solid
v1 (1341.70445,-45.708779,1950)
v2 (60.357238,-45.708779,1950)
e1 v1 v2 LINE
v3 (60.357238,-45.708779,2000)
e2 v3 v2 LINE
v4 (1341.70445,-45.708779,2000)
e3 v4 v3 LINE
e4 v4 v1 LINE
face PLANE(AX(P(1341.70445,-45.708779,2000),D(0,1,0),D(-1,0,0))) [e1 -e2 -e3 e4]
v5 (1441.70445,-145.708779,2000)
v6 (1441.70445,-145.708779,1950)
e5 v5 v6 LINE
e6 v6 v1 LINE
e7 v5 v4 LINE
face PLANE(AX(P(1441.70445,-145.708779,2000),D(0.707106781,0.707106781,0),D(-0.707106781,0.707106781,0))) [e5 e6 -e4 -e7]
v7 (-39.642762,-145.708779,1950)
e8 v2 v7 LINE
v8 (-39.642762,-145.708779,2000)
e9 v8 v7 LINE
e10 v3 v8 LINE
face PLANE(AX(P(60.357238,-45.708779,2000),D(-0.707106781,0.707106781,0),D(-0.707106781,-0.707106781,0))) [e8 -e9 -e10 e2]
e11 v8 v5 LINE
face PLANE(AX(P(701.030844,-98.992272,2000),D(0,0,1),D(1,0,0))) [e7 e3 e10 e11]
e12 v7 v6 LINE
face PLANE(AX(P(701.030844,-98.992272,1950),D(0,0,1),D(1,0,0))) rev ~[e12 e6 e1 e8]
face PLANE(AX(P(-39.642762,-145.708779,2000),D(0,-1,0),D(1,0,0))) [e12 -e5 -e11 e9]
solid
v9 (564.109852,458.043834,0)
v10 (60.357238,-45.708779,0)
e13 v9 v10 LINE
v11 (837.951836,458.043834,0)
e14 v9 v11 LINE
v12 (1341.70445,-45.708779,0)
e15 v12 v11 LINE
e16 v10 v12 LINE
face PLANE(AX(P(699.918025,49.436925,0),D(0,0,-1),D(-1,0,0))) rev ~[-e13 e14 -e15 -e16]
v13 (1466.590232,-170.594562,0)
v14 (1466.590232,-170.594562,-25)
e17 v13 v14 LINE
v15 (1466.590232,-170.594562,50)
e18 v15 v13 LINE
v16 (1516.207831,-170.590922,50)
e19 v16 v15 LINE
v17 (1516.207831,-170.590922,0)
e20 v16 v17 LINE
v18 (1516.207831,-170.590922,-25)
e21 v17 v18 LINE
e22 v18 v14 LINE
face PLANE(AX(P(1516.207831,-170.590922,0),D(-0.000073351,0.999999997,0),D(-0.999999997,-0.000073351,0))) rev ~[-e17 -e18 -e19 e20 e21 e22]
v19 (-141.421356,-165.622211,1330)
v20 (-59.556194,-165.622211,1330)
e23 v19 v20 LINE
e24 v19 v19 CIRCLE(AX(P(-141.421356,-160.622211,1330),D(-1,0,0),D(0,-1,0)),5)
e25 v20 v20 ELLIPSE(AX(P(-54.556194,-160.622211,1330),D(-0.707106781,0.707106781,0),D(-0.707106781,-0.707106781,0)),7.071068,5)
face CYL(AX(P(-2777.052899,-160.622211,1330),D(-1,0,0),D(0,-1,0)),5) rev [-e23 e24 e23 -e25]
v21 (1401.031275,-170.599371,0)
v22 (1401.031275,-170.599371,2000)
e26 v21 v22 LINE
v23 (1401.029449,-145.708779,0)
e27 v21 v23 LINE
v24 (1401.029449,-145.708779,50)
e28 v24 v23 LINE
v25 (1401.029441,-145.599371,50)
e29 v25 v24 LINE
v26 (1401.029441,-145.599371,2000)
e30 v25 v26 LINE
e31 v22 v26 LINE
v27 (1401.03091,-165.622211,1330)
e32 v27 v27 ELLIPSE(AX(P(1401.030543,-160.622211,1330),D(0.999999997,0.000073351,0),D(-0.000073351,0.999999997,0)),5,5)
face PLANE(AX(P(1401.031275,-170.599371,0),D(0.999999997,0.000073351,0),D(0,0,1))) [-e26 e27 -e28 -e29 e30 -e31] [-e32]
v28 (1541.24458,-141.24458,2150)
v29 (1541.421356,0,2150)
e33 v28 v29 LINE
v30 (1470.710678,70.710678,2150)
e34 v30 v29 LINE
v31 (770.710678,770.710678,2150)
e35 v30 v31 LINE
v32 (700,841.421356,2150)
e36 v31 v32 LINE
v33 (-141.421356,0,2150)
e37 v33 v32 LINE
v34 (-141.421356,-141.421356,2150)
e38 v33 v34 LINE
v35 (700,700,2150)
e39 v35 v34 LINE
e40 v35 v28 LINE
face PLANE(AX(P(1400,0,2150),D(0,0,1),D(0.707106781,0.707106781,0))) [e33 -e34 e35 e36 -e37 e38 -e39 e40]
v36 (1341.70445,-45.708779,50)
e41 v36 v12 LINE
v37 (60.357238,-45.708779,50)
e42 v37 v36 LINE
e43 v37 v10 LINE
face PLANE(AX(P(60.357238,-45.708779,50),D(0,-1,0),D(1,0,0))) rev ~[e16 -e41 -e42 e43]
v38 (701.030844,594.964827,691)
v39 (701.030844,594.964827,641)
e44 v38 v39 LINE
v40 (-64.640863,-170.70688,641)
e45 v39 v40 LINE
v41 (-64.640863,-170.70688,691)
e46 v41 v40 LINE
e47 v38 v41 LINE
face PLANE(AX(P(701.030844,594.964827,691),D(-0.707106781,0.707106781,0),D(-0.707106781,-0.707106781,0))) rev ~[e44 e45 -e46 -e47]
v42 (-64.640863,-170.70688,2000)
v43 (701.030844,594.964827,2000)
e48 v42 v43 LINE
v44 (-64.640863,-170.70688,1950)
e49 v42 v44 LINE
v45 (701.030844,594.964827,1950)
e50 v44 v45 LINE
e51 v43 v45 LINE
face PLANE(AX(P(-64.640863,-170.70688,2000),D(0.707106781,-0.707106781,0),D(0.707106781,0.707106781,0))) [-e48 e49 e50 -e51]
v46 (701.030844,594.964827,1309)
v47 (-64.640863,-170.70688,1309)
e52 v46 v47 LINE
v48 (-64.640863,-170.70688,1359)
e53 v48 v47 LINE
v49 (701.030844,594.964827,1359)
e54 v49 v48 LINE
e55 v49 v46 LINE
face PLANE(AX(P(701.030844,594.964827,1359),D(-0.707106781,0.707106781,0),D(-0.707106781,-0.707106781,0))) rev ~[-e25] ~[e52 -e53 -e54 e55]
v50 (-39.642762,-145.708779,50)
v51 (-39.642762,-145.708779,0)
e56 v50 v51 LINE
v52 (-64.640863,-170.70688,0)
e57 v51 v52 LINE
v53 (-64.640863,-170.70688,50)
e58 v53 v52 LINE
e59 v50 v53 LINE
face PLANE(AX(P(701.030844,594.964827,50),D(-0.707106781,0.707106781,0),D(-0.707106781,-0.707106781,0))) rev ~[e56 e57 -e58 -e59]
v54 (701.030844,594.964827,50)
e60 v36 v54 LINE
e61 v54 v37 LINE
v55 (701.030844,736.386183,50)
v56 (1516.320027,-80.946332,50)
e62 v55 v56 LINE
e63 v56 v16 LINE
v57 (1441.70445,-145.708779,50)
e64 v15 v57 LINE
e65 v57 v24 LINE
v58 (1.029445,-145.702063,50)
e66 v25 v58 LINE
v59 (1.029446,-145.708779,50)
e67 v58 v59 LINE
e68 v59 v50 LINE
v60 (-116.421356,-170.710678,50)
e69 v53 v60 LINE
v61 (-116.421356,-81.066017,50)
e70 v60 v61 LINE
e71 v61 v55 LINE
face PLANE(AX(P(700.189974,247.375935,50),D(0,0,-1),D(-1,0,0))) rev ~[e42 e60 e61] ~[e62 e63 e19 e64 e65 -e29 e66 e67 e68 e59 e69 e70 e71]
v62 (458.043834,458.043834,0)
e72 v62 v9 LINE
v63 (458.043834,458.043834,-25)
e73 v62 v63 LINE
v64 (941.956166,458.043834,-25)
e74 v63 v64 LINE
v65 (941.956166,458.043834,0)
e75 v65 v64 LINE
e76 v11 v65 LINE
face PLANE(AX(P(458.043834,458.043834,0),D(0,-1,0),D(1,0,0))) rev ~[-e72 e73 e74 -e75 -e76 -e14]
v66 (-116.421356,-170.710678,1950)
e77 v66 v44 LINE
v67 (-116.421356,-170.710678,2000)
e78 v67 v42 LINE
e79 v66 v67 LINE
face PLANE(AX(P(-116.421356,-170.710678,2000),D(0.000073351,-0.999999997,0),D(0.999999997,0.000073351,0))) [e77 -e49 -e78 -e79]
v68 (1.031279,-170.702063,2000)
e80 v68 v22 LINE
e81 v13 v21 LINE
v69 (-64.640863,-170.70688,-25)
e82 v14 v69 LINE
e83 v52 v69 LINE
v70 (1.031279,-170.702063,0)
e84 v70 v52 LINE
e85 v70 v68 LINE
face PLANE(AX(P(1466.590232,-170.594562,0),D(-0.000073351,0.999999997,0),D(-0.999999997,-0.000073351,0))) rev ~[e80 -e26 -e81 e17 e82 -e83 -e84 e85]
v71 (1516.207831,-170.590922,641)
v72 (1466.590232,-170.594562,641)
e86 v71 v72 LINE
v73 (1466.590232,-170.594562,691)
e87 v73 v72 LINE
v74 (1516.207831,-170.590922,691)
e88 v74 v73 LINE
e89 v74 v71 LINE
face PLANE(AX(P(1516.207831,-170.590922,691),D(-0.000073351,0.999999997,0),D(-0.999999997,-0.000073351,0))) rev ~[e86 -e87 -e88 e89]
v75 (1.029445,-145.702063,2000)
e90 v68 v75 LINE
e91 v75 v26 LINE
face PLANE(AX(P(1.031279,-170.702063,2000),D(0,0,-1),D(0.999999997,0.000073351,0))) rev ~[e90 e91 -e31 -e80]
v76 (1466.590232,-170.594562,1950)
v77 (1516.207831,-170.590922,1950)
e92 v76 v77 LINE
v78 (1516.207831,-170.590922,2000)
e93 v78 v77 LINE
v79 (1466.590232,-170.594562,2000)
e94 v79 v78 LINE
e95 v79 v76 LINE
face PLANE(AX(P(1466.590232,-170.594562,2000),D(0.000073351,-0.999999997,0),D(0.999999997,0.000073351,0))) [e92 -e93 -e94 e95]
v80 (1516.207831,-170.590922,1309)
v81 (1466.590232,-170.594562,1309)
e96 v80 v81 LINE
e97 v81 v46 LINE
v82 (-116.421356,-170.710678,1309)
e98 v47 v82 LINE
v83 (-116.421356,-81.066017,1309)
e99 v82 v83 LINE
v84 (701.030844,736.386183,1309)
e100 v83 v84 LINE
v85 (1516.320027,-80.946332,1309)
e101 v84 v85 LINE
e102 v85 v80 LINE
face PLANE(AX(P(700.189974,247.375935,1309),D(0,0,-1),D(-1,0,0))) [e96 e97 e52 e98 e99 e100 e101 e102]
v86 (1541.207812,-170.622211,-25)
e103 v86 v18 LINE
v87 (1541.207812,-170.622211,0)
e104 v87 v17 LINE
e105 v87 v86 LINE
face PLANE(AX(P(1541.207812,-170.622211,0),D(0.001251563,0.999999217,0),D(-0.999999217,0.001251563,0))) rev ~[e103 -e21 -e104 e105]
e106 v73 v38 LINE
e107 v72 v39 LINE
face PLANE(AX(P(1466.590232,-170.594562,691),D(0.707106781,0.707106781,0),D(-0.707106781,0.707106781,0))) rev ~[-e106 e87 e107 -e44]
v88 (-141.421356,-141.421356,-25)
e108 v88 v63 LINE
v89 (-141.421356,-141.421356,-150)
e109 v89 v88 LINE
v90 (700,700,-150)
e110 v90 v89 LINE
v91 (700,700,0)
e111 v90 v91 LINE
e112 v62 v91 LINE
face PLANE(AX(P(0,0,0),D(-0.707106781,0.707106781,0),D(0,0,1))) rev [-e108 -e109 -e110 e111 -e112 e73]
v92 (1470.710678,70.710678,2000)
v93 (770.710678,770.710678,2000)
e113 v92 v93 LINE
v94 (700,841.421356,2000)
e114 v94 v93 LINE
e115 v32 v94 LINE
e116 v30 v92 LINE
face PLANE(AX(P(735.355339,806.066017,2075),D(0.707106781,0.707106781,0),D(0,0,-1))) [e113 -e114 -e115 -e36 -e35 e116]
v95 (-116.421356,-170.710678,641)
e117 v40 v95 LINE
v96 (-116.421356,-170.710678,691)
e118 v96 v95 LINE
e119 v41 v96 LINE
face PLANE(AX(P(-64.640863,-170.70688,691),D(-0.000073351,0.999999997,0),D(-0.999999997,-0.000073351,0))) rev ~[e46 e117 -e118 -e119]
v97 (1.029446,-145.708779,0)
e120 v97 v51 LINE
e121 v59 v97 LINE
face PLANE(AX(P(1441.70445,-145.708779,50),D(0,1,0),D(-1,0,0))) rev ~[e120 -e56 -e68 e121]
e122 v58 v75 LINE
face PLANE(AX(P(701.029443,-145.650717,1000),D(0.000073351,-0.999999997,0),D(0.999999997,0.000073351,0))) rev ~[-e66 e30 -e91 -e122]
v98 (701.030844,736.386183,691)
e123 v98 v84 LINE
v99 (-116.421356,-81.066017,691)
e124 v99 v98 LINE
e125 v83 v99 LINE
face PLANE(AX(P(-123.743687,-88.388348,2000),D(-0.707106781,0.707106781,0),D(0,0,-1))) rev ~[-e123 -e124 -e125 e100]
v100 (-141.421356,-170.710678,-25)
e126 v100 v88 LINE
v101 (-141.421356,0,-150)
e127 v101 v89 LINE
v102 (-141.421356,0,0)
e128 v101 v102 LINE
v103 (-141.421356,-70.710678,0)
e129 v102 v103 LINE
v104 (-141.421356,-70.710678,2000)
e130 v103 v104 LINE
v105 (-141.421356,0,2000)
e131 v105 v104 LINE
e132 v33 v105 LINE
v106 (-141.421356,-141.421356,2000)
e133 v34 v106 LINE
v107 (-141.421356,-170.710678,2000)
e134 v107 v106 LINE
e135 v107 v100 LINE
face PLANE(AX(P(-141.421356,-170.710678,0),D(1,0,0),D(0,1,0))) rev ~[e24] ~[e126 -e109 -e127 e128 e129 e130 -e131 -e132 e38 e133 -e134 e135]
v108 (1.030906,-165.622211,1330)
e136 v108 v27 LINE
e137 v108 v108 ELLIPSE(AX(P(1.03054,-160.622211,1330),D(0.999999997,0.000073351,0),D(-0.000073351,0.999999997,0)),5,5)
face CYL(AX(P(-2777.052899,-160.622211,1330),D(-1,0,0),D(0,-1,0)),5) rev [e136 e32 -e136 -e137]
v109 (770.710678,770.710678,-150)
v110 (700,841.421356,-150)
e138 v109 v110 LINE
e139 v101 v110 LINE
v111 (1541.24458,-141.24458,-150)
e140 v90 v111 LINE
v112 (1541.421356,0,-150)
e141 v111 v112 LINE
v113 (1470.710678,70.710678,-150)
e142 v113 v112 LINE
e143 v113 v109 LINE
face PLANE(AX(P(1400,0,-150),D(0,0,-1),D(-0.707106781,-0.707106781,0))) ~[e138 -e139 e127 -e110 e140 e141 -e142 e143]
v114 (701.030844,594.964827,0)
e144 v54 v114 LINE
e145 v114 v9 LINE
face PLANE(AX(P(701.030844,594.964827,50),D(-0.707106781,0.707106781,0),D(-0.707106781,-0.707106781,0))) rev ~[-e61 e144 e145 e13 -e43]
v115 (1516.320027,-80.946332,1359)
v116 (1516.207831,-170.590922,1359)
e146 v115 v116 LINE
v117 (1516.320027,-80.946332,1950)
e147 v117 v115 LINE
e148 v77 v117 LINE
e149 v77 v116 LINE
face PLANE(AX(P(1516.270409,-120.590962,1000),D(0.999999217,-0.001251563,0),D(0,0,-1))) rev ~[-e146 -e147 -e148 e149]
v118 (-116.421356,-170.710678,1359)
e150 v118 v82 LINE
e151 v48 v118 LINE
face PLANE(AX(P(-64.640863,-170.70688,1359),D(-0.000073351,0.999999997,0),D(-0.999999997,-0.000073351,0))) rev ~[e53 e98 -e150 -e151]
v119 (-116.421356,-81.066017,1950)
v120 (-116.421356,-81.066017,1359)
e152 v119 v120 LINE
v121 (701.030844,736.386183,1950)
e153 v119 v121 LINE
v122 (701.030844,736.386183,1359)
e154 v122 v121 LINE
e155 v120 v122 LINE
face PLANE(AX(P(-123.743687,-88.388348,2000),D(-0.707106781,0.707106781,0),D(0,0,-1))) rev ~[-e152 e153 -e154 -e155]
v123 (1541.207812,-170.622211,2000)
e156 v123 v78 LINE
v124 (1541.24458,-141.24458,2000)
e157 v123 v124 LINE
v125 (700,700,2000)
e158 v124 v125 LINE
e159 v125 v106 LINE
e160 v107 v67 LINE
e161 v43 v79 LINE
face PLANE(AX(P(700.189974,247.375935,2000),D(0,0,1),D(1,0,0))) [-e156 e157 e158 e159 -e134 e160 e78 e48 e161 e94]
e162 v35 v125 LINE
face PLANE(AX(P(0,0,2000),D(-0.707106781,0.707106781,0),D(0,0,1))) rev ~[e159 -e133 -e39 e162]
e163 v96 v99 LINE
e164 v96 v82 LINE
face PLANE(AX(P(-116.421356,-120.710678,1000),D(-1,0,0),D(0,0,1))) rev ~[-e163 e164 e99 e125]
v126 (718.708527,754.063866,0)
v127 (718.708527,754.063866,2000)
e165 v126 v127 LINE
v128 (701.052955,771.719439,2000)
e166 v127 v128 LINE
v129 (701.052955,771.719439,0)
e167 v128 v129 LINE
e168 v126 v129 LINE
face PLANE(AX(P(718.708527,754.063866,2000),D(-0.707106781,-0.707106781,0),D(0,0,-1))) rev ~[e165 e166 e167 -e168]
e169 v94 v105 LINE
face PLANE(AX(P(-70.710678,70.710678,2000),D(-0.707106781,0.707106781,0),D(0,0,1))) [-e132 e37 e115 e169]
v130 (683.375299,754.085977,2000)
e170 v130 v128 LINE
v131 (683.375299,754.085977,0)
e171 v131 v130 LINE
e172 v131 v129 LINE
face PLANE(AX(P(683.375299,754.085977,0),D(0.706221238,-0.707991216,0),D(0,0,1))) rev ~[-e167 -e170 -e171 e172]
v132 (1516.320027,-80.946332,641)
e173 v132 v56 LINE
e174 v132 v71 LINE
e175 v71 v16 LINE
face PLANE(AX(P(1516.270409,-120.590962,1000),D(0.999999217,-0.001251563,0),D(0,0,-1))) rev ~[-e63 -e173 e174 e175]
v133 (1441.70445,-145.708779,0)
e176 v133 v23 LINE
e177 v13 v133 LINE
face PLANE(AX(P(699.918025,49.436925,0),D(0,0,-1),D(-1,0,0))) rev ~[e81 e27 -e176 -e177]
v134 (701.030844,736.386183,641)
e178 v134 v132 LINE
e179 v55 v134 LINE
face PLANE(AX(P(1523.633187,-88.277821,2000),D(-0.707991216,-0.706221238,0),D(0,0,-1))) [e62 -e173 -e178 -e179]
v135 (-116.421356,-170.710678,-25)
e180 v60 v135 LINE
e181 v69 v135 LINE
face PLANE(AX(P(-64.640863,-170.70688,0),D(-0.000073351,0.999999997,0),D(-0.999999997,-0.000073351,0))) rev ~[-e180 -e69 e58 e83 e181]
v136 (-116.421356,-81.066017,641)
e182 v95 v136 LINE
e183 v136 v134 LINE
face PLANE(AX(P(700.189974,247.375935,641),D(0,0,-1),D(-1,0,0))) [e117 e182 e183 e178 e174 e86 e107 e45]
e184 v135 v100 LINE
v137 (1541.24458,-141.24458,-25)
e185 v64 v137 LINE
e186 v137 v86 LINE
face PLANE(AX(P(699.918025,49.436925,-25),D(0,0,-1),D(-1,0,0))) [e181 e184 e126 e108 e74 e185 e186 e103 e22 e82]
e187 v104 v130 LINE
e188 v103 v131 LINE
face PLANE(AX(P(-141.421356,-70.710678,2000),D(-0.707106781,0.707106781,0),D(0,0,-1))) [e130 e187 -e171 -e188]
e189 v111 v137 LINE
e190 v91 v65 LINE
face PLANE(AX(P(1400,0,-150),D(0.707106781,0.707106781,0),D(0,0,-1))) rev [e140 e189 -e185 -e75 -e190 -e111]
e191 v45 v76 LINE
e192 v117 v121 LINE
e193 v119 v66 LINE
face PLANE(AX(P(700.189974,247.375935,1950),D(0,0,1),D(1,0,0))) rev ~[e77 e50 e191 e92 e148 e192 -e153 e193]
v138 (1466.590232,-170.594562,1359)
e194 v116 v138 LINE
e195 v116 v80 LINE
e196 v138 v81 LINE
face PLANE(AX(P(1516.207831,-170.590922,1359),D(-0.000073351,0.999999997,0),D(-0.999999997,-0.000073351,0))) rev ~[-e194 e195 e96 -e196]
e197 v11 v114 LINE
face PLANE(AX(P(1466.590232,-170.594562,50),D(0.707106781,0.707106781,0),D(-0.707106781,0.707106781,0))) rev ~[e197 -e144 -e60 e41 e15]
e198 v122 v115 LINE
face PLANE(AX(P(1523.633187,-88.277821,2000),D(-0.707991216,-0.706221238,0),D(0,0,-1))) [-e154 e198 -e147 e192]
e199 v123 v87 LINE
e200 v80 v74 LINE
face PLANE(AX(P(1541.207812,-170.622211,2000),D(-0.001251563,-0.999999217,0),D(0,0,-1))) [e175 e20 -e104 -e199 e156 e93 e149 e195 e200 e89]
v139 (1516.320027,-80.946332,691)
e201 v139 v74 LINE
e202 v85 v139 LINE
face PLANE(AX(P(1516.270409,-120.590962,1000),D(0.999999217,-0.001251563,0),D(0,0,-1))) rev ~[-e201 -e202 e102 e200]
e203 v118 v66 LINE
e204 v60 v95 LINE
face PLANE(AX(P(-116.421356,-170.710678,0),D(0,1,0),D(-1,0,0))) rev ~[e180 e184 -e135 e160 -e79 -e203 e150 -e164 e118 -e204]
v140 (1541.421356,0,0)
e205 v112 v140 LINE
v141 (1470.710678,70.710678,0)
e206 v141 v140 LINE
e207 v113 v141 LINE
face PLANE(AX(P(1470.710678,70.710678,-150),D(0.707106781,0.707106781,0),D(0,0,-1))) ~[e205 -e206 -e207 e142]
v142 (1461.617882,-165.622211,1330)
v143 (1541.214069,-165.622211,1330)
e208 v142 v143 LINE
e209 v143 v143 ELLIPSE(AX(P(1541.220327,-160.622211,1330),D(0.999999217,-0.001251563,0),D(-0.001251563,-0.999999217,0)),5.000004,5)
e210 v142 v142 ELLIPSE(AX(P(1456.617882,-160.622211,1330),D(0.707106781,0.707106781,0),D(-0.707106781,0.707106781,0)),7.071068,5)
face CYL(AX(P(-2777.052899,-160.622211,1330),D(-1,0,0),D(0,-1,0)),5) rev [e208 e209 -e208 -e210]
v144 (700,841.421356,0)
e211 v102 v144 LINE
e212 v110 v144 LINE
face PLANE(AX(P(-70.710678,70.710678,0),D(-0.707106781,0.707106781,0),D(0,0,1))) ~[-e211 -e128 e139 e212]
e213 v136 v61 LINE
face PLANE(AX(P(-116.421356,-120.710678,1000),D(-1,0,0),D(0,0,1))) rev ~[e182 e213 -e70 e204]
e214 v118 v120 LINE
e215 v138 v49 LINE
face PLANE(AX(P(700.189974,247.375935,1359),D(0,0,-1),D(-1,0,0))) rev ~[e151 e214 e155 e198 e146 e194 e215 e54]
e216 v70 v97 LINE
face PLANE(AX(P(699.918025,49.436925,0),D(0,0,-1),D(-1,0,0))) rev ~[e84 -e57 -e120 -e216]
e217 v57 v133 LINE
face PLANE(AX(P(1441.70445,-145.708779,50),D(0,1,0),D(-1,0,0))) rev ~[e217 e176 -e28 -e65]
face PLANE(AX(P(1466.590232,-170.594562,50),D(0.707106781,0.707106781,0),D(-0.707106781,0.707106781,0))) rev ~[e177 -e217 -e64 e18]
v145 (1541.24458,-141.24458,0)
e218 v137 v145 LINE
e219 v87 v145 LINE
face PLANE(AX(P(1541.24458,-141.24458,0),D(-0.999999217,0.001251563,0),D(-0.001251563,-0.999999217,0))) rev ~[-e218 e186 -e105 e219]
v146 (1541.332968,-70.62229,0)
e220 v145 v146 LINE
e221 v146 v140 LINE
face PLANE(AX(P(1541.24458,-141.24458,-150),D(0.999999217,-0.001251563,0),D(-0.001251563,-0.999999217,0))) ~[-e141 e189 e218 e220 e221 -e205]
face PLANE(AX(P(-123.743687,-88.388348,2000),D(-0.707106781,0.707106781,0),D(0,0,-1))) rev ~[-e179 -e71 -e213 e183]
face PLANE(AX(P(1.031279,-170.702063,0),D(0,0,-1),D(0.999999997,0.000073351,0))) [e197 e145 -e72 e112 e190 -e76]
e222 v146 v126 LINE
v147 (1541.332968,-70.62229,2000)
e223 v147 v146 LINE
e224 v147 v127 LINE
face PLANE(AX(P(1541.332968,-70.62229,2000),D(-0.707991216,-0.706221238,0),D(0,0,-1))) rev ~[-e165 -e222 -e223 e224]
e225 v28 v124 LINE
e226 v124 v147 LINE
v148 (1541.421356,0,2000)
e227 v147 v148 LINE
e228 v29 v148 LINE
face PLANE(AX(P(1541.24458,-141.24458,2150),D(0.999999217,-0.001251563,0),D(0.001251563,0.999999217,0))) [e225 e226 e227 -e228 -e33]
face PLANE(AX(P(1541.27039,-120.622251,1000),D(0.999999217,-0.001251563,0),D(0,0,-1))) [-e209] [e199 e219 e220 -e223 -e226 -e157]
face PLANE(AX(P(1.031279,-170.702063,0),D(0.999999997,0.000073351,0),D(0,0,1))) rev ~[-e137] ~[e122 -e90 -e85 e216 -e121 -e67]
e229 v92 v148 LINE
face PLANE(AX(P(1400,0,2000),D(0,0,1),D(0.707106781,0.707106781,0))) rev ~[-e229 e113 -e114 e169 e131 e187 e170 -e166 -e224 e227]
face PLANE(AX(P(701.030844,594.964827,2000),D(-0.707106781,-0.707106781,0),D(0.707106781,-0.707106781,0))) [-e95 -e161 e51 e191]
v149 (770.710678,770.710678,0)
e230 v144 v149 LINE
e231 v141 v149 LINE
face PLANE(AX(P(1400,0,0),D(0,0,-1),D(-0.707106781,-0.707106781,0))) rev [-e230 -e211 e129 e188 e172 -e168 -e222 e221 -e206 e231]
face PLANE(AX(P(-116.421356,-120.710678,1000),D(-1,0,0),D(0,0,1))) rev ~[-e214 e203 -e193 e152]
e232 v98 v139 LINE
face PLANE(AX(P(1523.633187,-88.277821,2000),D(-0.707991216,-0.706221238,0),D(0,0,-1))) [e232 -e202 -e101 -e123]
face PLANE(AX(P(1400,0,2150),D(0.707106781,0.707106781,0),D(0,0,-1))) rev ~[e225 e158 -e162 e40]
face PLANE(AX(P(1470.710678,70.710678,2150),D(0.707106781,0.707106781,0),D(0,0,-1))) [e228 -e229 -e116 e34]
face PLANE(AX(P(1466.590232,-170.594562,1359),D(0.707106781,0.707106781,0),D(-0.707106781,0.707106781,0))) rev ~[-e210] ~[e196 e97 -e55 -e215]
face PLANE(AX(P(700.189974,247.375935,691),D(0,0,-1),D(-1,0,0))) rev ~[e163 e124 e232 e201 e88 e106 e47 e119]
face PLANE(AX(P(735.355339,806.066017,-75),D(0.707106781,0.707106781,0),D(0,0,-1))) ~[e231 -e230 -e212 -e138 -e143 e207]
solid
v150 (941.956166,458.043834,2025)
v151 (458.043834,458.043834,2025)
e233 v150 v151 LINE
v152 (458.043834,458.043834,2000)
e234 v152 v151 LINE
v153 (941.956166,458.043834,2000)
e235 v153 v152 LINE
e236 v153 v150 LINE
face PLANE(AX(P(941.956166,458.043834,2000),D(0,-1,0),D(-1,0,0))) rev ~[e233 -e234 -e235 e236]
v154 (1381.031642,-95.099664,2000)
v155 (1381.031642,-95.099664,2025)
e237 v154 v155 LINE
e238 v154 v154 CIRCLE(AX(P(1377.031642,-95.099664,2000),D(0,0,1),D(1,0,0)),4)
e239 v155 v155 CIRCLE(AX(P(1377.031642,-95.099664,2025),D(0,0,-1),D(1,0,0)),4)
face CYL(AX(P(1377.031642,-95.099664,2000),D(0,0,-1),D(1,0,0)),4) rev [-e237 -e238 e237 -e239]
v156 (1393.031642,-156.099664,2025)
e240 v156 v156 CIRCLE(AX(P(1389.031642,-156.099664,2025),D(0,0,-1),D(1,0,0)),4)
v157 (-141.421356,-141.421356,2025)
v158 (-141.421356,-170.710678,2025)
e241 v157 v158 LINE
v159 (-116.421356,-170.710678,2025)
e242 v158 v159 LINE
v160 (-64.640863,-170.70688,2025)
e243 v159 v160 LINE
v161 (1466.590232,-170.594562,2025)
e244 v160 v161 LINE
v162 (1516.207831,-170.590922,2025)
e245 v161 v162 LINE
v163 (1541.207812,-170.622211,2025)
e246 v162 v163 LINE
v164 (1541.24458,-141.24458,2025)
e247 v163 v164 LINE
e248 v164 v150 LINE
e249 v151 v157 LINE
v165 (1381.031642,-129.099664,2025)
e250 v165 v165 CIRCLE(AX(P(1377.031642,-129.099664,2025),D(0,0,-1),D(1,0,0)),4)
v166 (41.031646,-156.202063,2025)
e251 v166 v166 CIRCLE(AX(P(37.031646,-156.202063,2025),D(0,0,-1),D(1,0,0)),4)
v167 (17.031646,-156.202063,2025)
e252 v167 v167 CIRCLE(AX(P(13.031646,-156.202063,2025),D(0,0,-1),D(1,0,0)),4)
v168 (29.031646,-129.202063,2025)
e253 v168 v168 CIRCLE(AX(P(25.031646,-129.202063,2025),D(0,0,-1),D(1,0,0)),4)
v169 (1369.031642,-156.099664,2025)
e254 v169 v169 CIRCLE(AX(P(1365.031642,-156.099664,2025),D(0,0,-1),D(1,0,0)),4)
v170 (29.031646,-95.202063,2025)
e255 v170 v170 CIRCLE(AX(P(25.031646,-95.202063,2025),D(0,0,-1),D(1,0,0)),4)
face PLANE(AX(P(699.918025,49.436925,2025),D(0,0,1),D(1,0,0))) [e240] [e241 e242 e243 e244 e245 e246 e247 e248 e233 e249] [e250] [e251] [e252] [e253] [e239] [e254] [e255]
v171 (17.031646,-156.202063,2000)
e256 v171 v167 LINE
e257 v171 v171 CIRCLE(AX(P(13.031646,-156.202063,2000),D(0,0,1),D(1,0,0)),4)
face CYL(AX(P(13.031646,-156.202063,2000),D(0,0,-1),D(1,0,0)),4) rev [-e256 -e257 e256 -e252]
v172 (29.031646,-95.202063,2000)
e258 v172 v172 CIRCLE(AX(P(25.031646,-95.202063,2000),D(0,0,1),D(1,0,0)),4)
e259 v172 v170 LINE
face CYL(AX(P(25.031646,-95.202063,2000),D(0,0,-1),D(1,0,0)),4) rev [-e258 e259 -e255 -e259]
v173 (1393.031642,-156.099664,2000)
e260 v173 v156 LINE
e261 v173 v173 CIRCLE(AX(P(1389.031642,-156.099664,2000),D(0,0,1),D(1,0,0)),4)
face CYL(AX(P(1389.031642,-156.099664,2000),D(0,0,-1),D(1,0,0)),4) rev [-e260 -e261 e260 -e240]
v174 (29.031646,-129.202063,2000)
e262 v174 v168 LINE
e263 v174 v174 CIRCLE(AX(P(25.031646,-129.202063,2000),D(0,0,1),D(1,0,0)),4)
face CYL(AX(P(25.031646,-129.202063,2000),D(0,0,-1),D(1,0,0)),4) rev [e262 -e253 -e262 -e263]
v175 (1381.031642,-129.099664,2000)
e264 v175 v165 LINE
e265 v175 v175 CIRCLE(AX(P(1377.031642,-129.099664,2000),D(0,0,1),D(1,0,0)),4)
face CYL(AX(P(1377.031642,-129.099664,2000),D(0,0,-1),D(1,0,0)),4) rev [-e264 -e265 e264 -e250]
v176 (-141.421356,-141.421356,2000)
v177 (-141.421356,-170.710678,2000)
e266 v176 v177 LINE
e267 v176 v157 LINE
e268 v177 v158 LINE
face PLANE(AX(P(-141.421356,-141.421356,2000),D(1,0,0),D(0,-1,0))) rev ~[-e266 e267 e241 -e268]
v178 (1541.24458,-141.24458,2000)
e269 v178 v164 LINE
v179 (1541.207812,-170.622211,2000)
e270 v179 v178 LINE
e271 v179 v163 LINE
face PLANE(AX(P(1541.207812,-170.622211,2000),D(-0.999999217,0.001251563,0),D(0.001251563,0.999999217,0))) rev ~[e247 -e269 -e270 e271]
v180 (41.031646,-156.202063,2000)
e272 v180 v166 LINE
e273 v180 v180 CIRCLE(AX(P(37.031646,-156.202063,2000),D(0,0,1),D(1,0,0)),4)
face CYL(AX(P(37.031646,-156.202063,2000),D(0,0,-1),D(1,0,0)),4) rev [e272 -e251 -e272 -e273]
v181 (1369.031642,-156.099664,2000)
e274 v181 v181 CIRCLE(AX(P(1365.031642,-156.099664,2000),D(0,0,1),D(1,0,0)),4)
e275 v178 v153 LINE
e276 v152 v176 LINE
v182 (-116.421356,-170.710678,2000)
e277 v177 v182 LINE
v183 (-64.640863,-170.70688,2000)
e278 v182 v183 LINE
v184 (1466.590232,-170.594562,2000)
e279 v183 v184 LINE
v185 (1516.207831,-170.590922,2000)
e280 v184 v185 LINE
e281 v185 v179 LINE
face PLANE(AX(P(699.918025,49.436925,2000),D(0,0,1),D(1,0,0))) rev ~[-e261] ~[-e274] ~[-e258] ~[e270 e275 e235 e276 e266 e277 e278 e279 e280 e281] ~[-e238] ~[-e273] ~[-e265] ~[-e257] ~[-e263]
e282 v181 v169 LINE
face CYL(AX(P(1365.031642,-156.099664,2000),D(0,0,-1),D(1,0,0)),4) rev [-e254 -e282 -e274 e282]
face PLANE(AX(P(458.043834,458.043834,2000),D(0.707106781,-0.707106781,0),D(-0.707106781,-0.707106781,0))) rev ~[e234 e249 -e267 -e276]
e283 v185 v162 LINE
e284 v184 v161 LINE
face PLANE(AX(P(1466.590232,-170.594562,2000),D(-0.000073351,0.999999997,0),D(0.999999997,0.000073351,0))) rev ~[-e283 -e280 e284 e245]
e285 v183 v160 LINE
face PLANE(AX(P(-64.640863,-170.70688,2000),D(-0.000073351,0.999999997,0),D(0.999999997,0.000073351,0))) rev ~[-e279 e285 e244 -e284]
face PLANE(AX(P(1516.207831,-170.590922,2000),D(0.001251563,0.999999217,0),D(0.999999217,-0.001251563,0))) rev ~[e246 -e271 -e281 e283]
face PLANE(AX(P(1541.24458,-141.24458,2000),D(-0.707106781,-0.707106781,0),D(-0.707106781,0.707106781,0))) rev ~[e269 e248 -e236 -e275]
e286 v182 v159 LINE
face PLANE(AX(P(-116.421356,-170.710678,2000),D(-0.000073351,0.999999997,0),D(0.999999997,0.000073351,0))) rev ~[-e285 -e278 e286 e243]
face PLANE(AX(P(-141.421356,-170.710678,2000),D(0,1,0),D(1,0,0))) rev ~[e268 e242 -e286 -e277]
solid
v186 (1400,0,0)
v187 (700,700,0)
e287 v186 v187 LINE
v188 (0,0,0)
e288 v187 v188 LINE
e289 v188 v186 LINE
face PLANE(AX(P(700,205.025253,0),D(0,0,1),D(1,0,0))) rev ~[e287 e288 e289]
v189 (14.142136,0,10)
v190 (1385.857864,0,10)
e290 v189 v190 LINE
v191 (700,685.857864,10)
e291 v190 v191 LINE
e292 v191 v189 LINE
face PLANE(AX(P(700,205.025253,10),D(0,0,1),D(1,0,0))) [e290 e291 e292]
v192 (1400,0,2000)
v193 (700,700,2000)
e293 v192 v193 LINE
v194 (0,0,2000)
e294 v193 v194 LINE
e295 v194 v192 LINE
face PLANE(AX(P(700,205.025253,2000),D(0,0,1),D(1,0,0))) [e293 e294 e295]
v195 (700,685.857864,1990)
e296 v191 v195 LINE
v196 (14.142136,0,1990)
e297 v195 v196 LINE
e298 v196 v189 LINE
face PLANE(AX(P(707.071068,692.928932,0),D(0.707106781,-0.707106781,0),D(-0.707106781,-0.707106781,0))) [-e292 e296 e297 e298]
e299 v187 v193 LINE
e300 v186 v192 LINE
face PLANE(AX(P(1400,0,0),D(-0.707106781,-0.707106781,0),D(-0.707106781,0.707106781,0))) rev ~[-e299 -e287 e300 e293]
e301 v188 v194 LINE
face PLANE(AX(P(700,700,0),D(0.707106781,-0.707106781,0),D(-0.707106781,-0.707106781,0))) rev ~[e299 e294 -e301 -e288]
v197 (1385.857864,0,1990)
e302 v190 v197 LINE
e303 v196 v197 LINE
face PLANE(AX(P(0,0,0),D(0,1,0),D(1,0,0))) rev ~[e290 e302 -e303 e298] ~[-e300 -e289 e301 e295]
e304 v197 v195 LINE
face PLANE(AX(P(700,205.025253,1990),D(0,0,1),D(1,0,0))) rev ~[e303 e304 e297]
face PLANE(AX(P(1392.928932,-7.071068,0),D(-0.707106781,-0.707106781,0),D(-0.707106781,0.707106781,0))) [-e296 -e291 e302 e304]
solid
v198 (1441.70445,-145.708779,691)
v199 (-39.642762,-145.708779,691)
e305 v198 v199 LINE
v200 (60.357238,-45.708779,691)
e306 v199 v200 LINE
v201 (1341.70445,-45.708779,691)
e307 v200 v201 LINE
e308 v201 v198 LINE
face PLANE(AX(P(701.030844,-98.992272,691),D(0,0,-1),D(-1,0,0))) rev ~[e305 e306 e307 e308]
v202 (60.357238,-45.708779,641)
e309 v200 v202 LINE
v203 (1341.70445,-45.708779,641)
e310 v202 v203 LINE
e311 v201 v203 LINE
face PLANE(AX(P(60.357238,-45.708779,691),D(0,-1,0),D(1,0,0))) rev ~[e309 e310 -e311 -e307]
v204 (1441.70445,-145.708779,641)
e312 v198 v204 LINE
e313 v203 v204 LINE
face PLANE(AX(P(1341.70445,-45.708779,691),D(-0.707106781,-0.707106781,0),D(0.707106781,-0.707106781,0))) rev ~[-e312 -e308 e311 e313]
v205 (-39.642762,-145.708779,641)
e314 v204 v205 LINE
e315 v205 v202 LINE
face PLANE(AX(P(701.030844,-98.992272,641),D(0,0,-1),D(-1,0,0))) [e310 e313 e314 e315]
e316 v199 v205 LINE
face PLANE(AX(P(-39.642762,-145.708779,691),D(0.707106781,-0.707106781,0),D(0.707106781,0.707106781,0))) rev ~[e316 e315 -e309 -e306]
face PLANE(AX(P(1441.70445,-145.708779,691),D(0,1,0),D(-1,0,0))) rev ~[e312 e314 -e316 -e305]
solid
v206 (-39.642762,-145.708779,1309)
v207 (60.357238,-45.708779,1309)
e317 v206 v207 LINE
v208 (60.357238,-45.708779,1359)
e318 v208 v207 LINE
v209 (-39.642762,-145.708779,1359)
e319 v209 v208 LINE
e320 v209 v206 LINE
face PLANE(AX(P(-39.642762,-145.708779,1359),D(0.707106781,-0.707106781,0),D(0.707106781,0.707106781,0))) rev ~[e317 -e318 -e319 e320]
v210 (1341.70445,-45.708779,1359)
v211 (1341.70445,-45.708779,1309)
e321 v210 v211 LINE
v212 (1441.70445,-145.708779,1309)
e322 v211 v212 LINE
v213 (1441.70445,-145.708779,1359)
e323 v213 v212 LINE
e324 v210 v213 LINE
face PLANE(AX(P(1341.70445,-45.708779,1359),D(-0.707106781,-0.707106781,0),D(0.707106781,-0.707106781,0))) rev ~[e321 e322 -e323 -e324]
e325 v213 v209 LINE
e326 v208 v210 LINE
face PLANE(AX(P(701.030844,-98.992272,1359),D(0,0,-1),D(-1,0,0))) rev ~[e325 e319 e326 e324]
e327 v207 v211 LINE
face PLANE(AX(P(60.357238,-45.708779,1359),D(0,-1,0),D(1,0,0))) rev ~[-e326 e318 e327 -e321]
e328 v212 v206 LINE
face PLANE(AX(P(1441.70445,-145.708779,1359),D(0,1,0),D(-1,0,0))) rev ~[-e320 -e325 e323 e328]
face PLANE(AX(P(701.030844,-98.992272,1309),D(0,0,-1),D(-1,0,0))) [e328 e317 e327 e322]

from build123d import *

# Parameters (mm, degrees)
BOSS_EXTRUDE1_DEPTH      = 2000
SHELL1_T                 = -10
SKETCH3_W                = 150
SKETCH3_H                = 1096.015510839
BOSS_EXTRUDE2_DEPTH      = 100
SKETCH7_W                = 150
SKETCH7_H                = 1089.949493661
BOSS_EXTRUDE4_DEPTH      = 100
CUT_EXTRUDE1_DEPTH       = 6
CUT_EXTRUDE1_DEPTH_BACK  = 6.066017
SKETCH8_W                = 150
SKETCH8_H                = 100
SKETCH9_W                = 150
SKETCH9_H                = 100
BOSS_EXTRUDE5_DEPTH      = 239.05
SKETCH10_W               = 150
SKETCH10_H               = 100
BOSS_EXTRUDE6_DEPTH      = 399.5
CUT_EXTRUDE4_DEPTH       = 1197.5
SKETCH14_W               = 2000
SKETCH14_H               = 100
BOSS_EXTRUDE7_DEPTH      = 25
SKETCH15_W               = 2000
SKETCH15_H               = 100
BOSS_EXTRUDE8_DEPTH      = 25
SKETCH16_W               = 2000
SKETCH16_H               = 25
BOSS_EXTRUDE9_DEPTH      = 1436
SKETCH17_W               = 25
SKETCH17_H               = 2000
BOSS_EXTRUDE10_DEPTH     = 1436
CUT_EXTRUDE11_DEPTH      = 1286
CUT_EXTRUDE12_DEPTH      = 1286
BOSS_EXTRUDE13_DEPTH     = 50
BOSS_EXTRUDE14_DEPTH     = 50
BOSS_EXTRUDE15_DEPTH     = 50
BOSS_EXTRUDE16_DEPTH     = 50
BOSS_EXTRUDE17_DEPTH     = 50
BOSS_EXTRUDE18_DEPTH     = 50
BOSS_EXTRUDE19_DEPTH     = 50
BOSS_EXTRUDE20_DEPTH     = 50
SKETCH34_W               = 1400
SKETCH34_H               = 2000
BOSS_EXTRUDE21_DEPTH     = 25
BOSS_EXTRUDE22_DEPTH     = 25
BOSS_EXTRUDE23_DEPTH     = 25
CUT_EXTRUDE16_DEPTH      = 2777.052898712
CUT_EXTRUDE16_DEPTH_BACK = 2777.052898712
SKETCH43_R               = 5
SKETCH45_R               = 4
CUT_EXTRUDE17_DEPTH      = 30


with BuildPart() as part:
    # Sketch1 → Boss-Extrude1 (new body)
    with BuildSketch(Plane.XY):
        Polygon((0, 0), (1400, 0), (700, 700), align=None)
    extrude(amount=BOSS_EXTRUDE1_DEPTH)

    # Shell1
    shell1_openings = [part.faces().sort_by_distance(p)[0] for p in [
        (700, 0, 1000),
    ]]
    offset(amount=SHELL1_T, openings=shell1_openings, kind=Kind.INTERSECTION)


with BuildPart() as body_2:
    # Sketch3 → Boss-Extrude2 (new body)
    with BuildSketch(Plane(origin=(0, 0, 0), x_dir=(0, 0, 1), z_dir=(-0.7071067811865477, 0.7071067811865475, 0))):
        with Locations((2075, 548.00775542)):
            Rectangle(SKETCH3_W, SKETCH3_H)
    extrude(amount=BOSS_EXTRUDE2_DEPTH)

    # Sketch7 → Boss-Extrude4 (add)
    with BuildSketch(Plane(origin=(700, 700, 0), x_dir=(0, 0, -1), z_dir=(0.7071067811865477, 0.7071067811865475, 0))):
        with Locations((-2075, -444.974746831)):
            Rectangle(SKETCH7_W, SKETCH7_H)
    extrude(amount=BOSS_EXTRUDE4_DEPTH)

    # Sketch8 → Cut-Extrude1 (cut, two sides: drawn at the far end of the back side and taken through both)
    with BuildSketch(Plane(origin=(775, 775, 0), x_dir=(0, 0, -1), z_dir=(0.7071067811865476, 0.7071067811865476, 0)).offset(-CUT_EXTRUDE1_DEPTH_BACK)):
        with Locations((-2075, 50)):
            Rectangle(SKETCH8_W, SKETCH8_H)
    extrude(amount=CUT_EXTRUDE1_DEPTH + CUT_EXTRUDE1_DEPTH_BACK, mode=Mode.SUBTRACT)

    # Sketch9 → Boss-Extrude5 (add)
    with BuildSketch(Plane(origin=(0, 0, 0), x_dir=(0, 0, 1), z_dir=(-0.7071067811865476, -0.7071067811865476, 0))):
        with Locations((2075, 50)):
            Rectangle(SKETCH9_W, SKETCH9_H)
    extrude(amount=BOSS_EXTRUDE5_DEPTH)

    # Sketch10 → Boss-Extrude6 (add)
    with BuildSketch(Plane(origin=(700, -700, 0), x_dir=(0, 0, -1), z_dir=(0.7071067811865476, -0.7071067811865476, 0))):
        with Locations((-2075, 1039.949493661)):
            Rectangle(SKETCH10_W, SKETCH10_H)
    extrude(amount=BOSS_EXTRUDE6_DEPTH)

    # Sketch13 → Cut-Extrude4 (cut)
    with BuildSketch(Plane.XY.offset(2150)):
        Polygon((-141.421356237, 0), (-141.421356237, -141.421356237), (-169.033876043, -169.033876043), (-239.744554161, -98.323197924), align=None)
        Polygon((1541.421356237, 0), (1753.199837203, -211.778480965), (1682.489159084, -282.489159084), (1541.244579542, -141.244579542), align=None)
    extrude(amount=-CUT_EXTRUDE4_DEPTH, mode=Mode.SUBTRACT)


with BuildPart() as body_3:
    # Mirror4: mirrored copy
    add(body_2.part.mirror(Plane.XY.offset(1000)))


with BuildPart() as body_2_1:
    add(body_2.part)

    add(body_3.part)  # Boss-Extrude7 merges body 3
    # Sketch14 → Boss-Extrude7 (add)
    with BuildSketch(Plane.ZY.offset(141.421356237)):
        with Locations((1000, -120.710678119)):
            Rectangle(SKETCH14_W, SKETCH14_H)
    extrude(amount=-BOSS_EXTRUDE7_DEPTH)

    # Sketch15 → Boss-Extrude8 (add)
    with BuildSketch(Plane(origin=(1541.418941738, -1.929185159, 0), x_dir=(0, 0, -1), z_dir=(0.999999216794127, -0.001251563475337267, 0))):
        with Locations((-1000, -118.693158413)):
            Rectangle(SKETCH15_W, SKETCH15_H)
    extrude(amount=-BOSS_EXTRUDE8_DEPTH)

    # Sketch16 → Boss-Extrude9 (add)
    with BuildSketch(Plane(origin=(-106.066017178, -106.066017178, 0), x_dir=(0, 0, -1), z_dir=(0.7071067811865483, 0.7071067811865468, 0))):
        with Locations((-1000, 37.5)):
            Rectangle(SKETCH16_W, SKETCH16_H)
    extrude(amount=BOSS_EXTRUDE9_DEPTH)

    # Sketch17 → Boss-Extrude10 (add)
    with BuildSketch(Plane(origin=(804.048443672, -806.063602678, 0), x_dir=(0.7079912163968599, 0.7062212383558673, 0), z_dir=(-0.7062212383558673, 0.7079912163968599, 0))):
        with Locations((1028.875241871, -1000)):
            Rectangle(SKETCH17_W, SKETCH17_H)
    extrude(amount=BOSS_EXTRUDE10_DEPTH)

    # Sketch27 → Cut-Extrude11 (cut)
    with BuildSketch(Plane(origin=(719.584743808, 717.785781949, 0), x_dir=(0, 0, 1), z_dir=(-0.7079912163968599, -0.7062212383558673, 0))):
        Polygon((0, 101.272137447), (0, 51.272098287), (2000, 51.272098287), (2000, 101.272137447), (2000, 297.477961859), (0, 297.477961859), align=None)
    extrude(amount=-CUT_EXTRUDE11_DEPTH, mode=Mode.SUBTRACT)

    # Sketch28 → Cut-Extrude12 (cut)
    with BuildSketch(Plane(origin=(-17.67766953, 17.67766953, 0), x_dir=(0, 0, -1), z_dir=(0.7071067811865468, -0.7071067811865483, 0))):
        Polygon((-2000, 1041.407346594), (0, 1041.407346594), (0, 1089.949493661), (0, 1286), (-2000, 1286), (-2000, 1089.949493661), align=None)
    extrude(amount=-CUT_EXTRUDE12_DEPTH, mode=Mode.SUBTRACT)

    # Sketch29 → Boss-Extrude13 (add)
    with BuildSketch(Plane(origin=(0, 0, 2000), x_dir=(-1, 0, 0), z_dir=(0, 0, -1))):
        Polygon((-701.03084385, 594.964826672), (-1466.590232409, -170.594561887), (-1516.207831122, -170.590922364), (-1516.320027106, -80.946331633), (-701.03084385, 736.386182909), (-630.320165731, 665.67550479), (116.421356237, -81.066017178), (116.421356237, -170.710678119), (64.640862765, -170.706879943), align=None)
    extrude(amount=BOSS_EXTRUDE13_DEPTH)

    # Sketch30 → Boss-Extrude14 (add)
    with BuildSketch(Plane(origin=(0, 0, 1359), x_dir=(-1, 0, 0), z_dir=(0, 0, -1))):
        Polygon((-701.03084385, 736.386182909), (-1516.320027106, -80.946331633), (-1516.207831122, -170.590922364), (-1466.590232409, -170.594561887), (-701.03084385, 594.964826672), (64.640862765, -170.706879943), (116.421356237, -170.710678119), (116.421356237, -81.066017178), align=None)
    extrude(amount=BOSS_EXTRUDE14_DEPTH)

    # Sketch31 → Boss-Extrude15 (add)
    with BuildSketch(Plane(origin=(0, 0, 691), x_dir=(-1, 0, 0), z_dir=(0, 0, -1))):
        Polygon((116.421356237, -81.066017178), (-701.03084385, 736.386182909), (-1516.320027106, -80.946331633), (-1516.207831122, -170.590922364), (-1466.590232409, -170.594561887), (-701.03084385, 594.964826672), (64.640862765, -170.706879943), (116.421356237, -170.710678119), align=None)
    extrude(amount=BOSS_EXTRUDE15_DEPTH)

    # Sketch33 → Boss-Extrude16 (add)
    with BuildSketch(Plane(origin=(0, 0, 50), x_dir=(-1, 0, 0), z_dir=(0, 0, -1))):
        Polygon((116.421356237, -170.710678119), (116.421356237, -81.066017178), (-701.03084385, 736.386182909), (-1516.320027106, -80.946331633), (-1516.207831122, -170.590922364), (-1466.590232409, -170.594561887), (-701.03084385, 594.964826672), (64.640862765, -170.706879943), align=None)
    extrude(amount=BOSS_EXTRUDE16_DEPTH)



with BuildPart() as body_3_2:
    # Sketch35 → Boss-Extrude17 (new body)
    with BuildSketch(Plane.XY.offset(2000)):
        Polygon((1341.704449553, -45.708779031), (60.357238147, -45.708779031), (-39.642761853, -145.708779031), (1441.704449553, -145.708779031), align=None)
    extrude(amount=-BOSS_EXTRUDE17_DEPTH)


with BuildPart() as body_4:
    # Sketch36 → Boss-Extrude18 (new body)
    with BuildSketch(Plane(origin=(0, 0, 1359), x_dir=(-1, 0, 0), z_dir=(0, 0, -1))):
        Polygon((39.642761853, -145.708779031), (-60.357238147, -45.708779031), (-1341.704449553, -45.708779031), (-1441.704449553, -145.708779031), align=None)
    extrude(amount=BOSS_EXTRUDE18_DEPTH)


with BuildPart() as body_5:
    # Sketch37 → Boss-Extrude19 (new body)
    with BuildSketch(Plane(origin=(0, 0, 691), x_dir=(-1, 0, 0), z_dir=(0, 0, -1))):
        Polygon((-1441.704449553, -145.708779031), (39.642761853, -145.708779031), (-60.357238147, -45.708779031), (-1341.704449553, -45.708779031), align=None)
    extrude(amount=BOSS_EXTRUDE19_DEPTH)


with BuildPart() as body_6:
    # Sketch38 → Boss-Extrude20 (new body)
    with BuildSketch(Plane(origin=(0, 0, 50), x_dir=(-1, 0, 0), z_dir=(0, 0, -1))):
        Polygon((-1341.704449553, -45.708779031), (-1441.704449553, -145.708779031), (39.642761853, -145.708779031), (-60.357238147, -45.708779031), align=None)
    extrude(amount=BOSS_EXTRUDE20_DEPTH)


with BuildPart() as body_7:
    # Sketch34 → Boss-Extrude21 (new body)
    with BuildSketch(Plane(origin=(0.012521253, -170.702137522, 0), x_dir=(0.9999999973097808, 7.335147241276342e-05, 0), z_dir=(7.335147241276342e-05, -0.9999999973097808, 0))):
        with Locations((701.018757721, 1000)):
            Rectangle(SKETCH34_W, SKETCH34_H)
    extrude(amount=-BOSS_EXTRUDE21_DEPTH)


with BuildPart() as body_8:
    # Sketch39 → Boss-Extrude22 (new body)
    with BuildSketch(Plane.XY.offset(2000)):
        Polygon((-64.640862765, -170.706879943), (1466.590232409, -170.594561887), (1516.207831122, -170.590922364), (1541.207811542, -170.62221145), (1541.244579542, -141.244579542), (941.956165613, 458.043834387), (458.043834387, 458.043834387), (-141.421356237, -141.421356237), (-141.421356237, -170.710678119), (-116.421356237, -170.710678119), align=None)
    extrude(amount=BOSS_EXTRUDE22_DEPTH)

    # Sketch45 → Cut-Extrude17 (cut)
    with BuildSketch(Plane.XY.offset(2000)):
        with Locations((13.031645739, -156.202062795)):
            Circle(SKETCH45_R)
        with Locations((37.031645739, -156.202062795)):
            Circle(SKETCH45_R)
        with Locations((25.031645739, -129.202062795)):
            Circle(SKETCH45_R)
        with Locations((25.031645739, -95.202062795)):
            Circle(SKETCH45_R)
        with Locations((1365.031641973, -156.099664126)):
            Circle(SKETCH45_R)
        with Locations((1389.031641973, -156.099664126)):
            Circle(SKETCH45_R)
        with Locations((1377.031641973, -129.099664126)):
            Circle(SKETCH45_R)
        with Locations((1377.031641973, -95.099664126)):
            Circle(SKETCH45_R)
    extrude(amount=CUT_EXTRUDE17_DEPTH, mode=Mode.SUBTRACT)


with BuildPart() as body_2_2:
    add(body_2_1.part)

    add(body_6.part)  # Boss-Extrude23 merges body 6

    add(body_7.part)  # Boss-Extrude23 merges body 7
    # Sketch40 → Boss-Extrude23 (add)
    with BuildSketch(Plane(origin=(0, 0, 0), x_dir=(-1, 0, 0), z_dir=(0, 0, -1))):
        Polygon((-1466.590232409, -170.594561887), (64.640862765, -170.706879943), (116.421356237, -170.710678119), (141.421356237, -170.710678119), (141.421356237, -141.421356237), (-458.043834387, 458.043834387), (-941.956165613, 458.043834387), (-1541.244579542, -141.244579542), (-1541.207811542, -170.62221145), (-1516.207831122, -170.590922364), align=None)
    extrude(amount=BOSS_EXTRUDE23_DEPTH)

    # Sketch43 → Cut-Extrude16 (cut, two sides: drawn at the far end of the back side and taken through both)
    with BuildSketch(Plane(origin=(0, 0, 0), x_dir=(0, 0, -1), z_dir=(1, 0, 0)).offset(-CUT_EXTRUDE16_DEPTH_BACK)):
        with Locations(Location((-1330, -160.62221145, 0), (0, 0, 270))):
            Circle(SKETCH43_R)
    extrude(amount=CUT_EXTRUDE16_DEPTH + CUT_EXTRUDE16_DEPTH_BACK, mode=Mode.SUBTRACT)


solid = Compound([part.part, body_3_2.part, body_4.part, body_5.part, body_8.part, body_2_2.part])
